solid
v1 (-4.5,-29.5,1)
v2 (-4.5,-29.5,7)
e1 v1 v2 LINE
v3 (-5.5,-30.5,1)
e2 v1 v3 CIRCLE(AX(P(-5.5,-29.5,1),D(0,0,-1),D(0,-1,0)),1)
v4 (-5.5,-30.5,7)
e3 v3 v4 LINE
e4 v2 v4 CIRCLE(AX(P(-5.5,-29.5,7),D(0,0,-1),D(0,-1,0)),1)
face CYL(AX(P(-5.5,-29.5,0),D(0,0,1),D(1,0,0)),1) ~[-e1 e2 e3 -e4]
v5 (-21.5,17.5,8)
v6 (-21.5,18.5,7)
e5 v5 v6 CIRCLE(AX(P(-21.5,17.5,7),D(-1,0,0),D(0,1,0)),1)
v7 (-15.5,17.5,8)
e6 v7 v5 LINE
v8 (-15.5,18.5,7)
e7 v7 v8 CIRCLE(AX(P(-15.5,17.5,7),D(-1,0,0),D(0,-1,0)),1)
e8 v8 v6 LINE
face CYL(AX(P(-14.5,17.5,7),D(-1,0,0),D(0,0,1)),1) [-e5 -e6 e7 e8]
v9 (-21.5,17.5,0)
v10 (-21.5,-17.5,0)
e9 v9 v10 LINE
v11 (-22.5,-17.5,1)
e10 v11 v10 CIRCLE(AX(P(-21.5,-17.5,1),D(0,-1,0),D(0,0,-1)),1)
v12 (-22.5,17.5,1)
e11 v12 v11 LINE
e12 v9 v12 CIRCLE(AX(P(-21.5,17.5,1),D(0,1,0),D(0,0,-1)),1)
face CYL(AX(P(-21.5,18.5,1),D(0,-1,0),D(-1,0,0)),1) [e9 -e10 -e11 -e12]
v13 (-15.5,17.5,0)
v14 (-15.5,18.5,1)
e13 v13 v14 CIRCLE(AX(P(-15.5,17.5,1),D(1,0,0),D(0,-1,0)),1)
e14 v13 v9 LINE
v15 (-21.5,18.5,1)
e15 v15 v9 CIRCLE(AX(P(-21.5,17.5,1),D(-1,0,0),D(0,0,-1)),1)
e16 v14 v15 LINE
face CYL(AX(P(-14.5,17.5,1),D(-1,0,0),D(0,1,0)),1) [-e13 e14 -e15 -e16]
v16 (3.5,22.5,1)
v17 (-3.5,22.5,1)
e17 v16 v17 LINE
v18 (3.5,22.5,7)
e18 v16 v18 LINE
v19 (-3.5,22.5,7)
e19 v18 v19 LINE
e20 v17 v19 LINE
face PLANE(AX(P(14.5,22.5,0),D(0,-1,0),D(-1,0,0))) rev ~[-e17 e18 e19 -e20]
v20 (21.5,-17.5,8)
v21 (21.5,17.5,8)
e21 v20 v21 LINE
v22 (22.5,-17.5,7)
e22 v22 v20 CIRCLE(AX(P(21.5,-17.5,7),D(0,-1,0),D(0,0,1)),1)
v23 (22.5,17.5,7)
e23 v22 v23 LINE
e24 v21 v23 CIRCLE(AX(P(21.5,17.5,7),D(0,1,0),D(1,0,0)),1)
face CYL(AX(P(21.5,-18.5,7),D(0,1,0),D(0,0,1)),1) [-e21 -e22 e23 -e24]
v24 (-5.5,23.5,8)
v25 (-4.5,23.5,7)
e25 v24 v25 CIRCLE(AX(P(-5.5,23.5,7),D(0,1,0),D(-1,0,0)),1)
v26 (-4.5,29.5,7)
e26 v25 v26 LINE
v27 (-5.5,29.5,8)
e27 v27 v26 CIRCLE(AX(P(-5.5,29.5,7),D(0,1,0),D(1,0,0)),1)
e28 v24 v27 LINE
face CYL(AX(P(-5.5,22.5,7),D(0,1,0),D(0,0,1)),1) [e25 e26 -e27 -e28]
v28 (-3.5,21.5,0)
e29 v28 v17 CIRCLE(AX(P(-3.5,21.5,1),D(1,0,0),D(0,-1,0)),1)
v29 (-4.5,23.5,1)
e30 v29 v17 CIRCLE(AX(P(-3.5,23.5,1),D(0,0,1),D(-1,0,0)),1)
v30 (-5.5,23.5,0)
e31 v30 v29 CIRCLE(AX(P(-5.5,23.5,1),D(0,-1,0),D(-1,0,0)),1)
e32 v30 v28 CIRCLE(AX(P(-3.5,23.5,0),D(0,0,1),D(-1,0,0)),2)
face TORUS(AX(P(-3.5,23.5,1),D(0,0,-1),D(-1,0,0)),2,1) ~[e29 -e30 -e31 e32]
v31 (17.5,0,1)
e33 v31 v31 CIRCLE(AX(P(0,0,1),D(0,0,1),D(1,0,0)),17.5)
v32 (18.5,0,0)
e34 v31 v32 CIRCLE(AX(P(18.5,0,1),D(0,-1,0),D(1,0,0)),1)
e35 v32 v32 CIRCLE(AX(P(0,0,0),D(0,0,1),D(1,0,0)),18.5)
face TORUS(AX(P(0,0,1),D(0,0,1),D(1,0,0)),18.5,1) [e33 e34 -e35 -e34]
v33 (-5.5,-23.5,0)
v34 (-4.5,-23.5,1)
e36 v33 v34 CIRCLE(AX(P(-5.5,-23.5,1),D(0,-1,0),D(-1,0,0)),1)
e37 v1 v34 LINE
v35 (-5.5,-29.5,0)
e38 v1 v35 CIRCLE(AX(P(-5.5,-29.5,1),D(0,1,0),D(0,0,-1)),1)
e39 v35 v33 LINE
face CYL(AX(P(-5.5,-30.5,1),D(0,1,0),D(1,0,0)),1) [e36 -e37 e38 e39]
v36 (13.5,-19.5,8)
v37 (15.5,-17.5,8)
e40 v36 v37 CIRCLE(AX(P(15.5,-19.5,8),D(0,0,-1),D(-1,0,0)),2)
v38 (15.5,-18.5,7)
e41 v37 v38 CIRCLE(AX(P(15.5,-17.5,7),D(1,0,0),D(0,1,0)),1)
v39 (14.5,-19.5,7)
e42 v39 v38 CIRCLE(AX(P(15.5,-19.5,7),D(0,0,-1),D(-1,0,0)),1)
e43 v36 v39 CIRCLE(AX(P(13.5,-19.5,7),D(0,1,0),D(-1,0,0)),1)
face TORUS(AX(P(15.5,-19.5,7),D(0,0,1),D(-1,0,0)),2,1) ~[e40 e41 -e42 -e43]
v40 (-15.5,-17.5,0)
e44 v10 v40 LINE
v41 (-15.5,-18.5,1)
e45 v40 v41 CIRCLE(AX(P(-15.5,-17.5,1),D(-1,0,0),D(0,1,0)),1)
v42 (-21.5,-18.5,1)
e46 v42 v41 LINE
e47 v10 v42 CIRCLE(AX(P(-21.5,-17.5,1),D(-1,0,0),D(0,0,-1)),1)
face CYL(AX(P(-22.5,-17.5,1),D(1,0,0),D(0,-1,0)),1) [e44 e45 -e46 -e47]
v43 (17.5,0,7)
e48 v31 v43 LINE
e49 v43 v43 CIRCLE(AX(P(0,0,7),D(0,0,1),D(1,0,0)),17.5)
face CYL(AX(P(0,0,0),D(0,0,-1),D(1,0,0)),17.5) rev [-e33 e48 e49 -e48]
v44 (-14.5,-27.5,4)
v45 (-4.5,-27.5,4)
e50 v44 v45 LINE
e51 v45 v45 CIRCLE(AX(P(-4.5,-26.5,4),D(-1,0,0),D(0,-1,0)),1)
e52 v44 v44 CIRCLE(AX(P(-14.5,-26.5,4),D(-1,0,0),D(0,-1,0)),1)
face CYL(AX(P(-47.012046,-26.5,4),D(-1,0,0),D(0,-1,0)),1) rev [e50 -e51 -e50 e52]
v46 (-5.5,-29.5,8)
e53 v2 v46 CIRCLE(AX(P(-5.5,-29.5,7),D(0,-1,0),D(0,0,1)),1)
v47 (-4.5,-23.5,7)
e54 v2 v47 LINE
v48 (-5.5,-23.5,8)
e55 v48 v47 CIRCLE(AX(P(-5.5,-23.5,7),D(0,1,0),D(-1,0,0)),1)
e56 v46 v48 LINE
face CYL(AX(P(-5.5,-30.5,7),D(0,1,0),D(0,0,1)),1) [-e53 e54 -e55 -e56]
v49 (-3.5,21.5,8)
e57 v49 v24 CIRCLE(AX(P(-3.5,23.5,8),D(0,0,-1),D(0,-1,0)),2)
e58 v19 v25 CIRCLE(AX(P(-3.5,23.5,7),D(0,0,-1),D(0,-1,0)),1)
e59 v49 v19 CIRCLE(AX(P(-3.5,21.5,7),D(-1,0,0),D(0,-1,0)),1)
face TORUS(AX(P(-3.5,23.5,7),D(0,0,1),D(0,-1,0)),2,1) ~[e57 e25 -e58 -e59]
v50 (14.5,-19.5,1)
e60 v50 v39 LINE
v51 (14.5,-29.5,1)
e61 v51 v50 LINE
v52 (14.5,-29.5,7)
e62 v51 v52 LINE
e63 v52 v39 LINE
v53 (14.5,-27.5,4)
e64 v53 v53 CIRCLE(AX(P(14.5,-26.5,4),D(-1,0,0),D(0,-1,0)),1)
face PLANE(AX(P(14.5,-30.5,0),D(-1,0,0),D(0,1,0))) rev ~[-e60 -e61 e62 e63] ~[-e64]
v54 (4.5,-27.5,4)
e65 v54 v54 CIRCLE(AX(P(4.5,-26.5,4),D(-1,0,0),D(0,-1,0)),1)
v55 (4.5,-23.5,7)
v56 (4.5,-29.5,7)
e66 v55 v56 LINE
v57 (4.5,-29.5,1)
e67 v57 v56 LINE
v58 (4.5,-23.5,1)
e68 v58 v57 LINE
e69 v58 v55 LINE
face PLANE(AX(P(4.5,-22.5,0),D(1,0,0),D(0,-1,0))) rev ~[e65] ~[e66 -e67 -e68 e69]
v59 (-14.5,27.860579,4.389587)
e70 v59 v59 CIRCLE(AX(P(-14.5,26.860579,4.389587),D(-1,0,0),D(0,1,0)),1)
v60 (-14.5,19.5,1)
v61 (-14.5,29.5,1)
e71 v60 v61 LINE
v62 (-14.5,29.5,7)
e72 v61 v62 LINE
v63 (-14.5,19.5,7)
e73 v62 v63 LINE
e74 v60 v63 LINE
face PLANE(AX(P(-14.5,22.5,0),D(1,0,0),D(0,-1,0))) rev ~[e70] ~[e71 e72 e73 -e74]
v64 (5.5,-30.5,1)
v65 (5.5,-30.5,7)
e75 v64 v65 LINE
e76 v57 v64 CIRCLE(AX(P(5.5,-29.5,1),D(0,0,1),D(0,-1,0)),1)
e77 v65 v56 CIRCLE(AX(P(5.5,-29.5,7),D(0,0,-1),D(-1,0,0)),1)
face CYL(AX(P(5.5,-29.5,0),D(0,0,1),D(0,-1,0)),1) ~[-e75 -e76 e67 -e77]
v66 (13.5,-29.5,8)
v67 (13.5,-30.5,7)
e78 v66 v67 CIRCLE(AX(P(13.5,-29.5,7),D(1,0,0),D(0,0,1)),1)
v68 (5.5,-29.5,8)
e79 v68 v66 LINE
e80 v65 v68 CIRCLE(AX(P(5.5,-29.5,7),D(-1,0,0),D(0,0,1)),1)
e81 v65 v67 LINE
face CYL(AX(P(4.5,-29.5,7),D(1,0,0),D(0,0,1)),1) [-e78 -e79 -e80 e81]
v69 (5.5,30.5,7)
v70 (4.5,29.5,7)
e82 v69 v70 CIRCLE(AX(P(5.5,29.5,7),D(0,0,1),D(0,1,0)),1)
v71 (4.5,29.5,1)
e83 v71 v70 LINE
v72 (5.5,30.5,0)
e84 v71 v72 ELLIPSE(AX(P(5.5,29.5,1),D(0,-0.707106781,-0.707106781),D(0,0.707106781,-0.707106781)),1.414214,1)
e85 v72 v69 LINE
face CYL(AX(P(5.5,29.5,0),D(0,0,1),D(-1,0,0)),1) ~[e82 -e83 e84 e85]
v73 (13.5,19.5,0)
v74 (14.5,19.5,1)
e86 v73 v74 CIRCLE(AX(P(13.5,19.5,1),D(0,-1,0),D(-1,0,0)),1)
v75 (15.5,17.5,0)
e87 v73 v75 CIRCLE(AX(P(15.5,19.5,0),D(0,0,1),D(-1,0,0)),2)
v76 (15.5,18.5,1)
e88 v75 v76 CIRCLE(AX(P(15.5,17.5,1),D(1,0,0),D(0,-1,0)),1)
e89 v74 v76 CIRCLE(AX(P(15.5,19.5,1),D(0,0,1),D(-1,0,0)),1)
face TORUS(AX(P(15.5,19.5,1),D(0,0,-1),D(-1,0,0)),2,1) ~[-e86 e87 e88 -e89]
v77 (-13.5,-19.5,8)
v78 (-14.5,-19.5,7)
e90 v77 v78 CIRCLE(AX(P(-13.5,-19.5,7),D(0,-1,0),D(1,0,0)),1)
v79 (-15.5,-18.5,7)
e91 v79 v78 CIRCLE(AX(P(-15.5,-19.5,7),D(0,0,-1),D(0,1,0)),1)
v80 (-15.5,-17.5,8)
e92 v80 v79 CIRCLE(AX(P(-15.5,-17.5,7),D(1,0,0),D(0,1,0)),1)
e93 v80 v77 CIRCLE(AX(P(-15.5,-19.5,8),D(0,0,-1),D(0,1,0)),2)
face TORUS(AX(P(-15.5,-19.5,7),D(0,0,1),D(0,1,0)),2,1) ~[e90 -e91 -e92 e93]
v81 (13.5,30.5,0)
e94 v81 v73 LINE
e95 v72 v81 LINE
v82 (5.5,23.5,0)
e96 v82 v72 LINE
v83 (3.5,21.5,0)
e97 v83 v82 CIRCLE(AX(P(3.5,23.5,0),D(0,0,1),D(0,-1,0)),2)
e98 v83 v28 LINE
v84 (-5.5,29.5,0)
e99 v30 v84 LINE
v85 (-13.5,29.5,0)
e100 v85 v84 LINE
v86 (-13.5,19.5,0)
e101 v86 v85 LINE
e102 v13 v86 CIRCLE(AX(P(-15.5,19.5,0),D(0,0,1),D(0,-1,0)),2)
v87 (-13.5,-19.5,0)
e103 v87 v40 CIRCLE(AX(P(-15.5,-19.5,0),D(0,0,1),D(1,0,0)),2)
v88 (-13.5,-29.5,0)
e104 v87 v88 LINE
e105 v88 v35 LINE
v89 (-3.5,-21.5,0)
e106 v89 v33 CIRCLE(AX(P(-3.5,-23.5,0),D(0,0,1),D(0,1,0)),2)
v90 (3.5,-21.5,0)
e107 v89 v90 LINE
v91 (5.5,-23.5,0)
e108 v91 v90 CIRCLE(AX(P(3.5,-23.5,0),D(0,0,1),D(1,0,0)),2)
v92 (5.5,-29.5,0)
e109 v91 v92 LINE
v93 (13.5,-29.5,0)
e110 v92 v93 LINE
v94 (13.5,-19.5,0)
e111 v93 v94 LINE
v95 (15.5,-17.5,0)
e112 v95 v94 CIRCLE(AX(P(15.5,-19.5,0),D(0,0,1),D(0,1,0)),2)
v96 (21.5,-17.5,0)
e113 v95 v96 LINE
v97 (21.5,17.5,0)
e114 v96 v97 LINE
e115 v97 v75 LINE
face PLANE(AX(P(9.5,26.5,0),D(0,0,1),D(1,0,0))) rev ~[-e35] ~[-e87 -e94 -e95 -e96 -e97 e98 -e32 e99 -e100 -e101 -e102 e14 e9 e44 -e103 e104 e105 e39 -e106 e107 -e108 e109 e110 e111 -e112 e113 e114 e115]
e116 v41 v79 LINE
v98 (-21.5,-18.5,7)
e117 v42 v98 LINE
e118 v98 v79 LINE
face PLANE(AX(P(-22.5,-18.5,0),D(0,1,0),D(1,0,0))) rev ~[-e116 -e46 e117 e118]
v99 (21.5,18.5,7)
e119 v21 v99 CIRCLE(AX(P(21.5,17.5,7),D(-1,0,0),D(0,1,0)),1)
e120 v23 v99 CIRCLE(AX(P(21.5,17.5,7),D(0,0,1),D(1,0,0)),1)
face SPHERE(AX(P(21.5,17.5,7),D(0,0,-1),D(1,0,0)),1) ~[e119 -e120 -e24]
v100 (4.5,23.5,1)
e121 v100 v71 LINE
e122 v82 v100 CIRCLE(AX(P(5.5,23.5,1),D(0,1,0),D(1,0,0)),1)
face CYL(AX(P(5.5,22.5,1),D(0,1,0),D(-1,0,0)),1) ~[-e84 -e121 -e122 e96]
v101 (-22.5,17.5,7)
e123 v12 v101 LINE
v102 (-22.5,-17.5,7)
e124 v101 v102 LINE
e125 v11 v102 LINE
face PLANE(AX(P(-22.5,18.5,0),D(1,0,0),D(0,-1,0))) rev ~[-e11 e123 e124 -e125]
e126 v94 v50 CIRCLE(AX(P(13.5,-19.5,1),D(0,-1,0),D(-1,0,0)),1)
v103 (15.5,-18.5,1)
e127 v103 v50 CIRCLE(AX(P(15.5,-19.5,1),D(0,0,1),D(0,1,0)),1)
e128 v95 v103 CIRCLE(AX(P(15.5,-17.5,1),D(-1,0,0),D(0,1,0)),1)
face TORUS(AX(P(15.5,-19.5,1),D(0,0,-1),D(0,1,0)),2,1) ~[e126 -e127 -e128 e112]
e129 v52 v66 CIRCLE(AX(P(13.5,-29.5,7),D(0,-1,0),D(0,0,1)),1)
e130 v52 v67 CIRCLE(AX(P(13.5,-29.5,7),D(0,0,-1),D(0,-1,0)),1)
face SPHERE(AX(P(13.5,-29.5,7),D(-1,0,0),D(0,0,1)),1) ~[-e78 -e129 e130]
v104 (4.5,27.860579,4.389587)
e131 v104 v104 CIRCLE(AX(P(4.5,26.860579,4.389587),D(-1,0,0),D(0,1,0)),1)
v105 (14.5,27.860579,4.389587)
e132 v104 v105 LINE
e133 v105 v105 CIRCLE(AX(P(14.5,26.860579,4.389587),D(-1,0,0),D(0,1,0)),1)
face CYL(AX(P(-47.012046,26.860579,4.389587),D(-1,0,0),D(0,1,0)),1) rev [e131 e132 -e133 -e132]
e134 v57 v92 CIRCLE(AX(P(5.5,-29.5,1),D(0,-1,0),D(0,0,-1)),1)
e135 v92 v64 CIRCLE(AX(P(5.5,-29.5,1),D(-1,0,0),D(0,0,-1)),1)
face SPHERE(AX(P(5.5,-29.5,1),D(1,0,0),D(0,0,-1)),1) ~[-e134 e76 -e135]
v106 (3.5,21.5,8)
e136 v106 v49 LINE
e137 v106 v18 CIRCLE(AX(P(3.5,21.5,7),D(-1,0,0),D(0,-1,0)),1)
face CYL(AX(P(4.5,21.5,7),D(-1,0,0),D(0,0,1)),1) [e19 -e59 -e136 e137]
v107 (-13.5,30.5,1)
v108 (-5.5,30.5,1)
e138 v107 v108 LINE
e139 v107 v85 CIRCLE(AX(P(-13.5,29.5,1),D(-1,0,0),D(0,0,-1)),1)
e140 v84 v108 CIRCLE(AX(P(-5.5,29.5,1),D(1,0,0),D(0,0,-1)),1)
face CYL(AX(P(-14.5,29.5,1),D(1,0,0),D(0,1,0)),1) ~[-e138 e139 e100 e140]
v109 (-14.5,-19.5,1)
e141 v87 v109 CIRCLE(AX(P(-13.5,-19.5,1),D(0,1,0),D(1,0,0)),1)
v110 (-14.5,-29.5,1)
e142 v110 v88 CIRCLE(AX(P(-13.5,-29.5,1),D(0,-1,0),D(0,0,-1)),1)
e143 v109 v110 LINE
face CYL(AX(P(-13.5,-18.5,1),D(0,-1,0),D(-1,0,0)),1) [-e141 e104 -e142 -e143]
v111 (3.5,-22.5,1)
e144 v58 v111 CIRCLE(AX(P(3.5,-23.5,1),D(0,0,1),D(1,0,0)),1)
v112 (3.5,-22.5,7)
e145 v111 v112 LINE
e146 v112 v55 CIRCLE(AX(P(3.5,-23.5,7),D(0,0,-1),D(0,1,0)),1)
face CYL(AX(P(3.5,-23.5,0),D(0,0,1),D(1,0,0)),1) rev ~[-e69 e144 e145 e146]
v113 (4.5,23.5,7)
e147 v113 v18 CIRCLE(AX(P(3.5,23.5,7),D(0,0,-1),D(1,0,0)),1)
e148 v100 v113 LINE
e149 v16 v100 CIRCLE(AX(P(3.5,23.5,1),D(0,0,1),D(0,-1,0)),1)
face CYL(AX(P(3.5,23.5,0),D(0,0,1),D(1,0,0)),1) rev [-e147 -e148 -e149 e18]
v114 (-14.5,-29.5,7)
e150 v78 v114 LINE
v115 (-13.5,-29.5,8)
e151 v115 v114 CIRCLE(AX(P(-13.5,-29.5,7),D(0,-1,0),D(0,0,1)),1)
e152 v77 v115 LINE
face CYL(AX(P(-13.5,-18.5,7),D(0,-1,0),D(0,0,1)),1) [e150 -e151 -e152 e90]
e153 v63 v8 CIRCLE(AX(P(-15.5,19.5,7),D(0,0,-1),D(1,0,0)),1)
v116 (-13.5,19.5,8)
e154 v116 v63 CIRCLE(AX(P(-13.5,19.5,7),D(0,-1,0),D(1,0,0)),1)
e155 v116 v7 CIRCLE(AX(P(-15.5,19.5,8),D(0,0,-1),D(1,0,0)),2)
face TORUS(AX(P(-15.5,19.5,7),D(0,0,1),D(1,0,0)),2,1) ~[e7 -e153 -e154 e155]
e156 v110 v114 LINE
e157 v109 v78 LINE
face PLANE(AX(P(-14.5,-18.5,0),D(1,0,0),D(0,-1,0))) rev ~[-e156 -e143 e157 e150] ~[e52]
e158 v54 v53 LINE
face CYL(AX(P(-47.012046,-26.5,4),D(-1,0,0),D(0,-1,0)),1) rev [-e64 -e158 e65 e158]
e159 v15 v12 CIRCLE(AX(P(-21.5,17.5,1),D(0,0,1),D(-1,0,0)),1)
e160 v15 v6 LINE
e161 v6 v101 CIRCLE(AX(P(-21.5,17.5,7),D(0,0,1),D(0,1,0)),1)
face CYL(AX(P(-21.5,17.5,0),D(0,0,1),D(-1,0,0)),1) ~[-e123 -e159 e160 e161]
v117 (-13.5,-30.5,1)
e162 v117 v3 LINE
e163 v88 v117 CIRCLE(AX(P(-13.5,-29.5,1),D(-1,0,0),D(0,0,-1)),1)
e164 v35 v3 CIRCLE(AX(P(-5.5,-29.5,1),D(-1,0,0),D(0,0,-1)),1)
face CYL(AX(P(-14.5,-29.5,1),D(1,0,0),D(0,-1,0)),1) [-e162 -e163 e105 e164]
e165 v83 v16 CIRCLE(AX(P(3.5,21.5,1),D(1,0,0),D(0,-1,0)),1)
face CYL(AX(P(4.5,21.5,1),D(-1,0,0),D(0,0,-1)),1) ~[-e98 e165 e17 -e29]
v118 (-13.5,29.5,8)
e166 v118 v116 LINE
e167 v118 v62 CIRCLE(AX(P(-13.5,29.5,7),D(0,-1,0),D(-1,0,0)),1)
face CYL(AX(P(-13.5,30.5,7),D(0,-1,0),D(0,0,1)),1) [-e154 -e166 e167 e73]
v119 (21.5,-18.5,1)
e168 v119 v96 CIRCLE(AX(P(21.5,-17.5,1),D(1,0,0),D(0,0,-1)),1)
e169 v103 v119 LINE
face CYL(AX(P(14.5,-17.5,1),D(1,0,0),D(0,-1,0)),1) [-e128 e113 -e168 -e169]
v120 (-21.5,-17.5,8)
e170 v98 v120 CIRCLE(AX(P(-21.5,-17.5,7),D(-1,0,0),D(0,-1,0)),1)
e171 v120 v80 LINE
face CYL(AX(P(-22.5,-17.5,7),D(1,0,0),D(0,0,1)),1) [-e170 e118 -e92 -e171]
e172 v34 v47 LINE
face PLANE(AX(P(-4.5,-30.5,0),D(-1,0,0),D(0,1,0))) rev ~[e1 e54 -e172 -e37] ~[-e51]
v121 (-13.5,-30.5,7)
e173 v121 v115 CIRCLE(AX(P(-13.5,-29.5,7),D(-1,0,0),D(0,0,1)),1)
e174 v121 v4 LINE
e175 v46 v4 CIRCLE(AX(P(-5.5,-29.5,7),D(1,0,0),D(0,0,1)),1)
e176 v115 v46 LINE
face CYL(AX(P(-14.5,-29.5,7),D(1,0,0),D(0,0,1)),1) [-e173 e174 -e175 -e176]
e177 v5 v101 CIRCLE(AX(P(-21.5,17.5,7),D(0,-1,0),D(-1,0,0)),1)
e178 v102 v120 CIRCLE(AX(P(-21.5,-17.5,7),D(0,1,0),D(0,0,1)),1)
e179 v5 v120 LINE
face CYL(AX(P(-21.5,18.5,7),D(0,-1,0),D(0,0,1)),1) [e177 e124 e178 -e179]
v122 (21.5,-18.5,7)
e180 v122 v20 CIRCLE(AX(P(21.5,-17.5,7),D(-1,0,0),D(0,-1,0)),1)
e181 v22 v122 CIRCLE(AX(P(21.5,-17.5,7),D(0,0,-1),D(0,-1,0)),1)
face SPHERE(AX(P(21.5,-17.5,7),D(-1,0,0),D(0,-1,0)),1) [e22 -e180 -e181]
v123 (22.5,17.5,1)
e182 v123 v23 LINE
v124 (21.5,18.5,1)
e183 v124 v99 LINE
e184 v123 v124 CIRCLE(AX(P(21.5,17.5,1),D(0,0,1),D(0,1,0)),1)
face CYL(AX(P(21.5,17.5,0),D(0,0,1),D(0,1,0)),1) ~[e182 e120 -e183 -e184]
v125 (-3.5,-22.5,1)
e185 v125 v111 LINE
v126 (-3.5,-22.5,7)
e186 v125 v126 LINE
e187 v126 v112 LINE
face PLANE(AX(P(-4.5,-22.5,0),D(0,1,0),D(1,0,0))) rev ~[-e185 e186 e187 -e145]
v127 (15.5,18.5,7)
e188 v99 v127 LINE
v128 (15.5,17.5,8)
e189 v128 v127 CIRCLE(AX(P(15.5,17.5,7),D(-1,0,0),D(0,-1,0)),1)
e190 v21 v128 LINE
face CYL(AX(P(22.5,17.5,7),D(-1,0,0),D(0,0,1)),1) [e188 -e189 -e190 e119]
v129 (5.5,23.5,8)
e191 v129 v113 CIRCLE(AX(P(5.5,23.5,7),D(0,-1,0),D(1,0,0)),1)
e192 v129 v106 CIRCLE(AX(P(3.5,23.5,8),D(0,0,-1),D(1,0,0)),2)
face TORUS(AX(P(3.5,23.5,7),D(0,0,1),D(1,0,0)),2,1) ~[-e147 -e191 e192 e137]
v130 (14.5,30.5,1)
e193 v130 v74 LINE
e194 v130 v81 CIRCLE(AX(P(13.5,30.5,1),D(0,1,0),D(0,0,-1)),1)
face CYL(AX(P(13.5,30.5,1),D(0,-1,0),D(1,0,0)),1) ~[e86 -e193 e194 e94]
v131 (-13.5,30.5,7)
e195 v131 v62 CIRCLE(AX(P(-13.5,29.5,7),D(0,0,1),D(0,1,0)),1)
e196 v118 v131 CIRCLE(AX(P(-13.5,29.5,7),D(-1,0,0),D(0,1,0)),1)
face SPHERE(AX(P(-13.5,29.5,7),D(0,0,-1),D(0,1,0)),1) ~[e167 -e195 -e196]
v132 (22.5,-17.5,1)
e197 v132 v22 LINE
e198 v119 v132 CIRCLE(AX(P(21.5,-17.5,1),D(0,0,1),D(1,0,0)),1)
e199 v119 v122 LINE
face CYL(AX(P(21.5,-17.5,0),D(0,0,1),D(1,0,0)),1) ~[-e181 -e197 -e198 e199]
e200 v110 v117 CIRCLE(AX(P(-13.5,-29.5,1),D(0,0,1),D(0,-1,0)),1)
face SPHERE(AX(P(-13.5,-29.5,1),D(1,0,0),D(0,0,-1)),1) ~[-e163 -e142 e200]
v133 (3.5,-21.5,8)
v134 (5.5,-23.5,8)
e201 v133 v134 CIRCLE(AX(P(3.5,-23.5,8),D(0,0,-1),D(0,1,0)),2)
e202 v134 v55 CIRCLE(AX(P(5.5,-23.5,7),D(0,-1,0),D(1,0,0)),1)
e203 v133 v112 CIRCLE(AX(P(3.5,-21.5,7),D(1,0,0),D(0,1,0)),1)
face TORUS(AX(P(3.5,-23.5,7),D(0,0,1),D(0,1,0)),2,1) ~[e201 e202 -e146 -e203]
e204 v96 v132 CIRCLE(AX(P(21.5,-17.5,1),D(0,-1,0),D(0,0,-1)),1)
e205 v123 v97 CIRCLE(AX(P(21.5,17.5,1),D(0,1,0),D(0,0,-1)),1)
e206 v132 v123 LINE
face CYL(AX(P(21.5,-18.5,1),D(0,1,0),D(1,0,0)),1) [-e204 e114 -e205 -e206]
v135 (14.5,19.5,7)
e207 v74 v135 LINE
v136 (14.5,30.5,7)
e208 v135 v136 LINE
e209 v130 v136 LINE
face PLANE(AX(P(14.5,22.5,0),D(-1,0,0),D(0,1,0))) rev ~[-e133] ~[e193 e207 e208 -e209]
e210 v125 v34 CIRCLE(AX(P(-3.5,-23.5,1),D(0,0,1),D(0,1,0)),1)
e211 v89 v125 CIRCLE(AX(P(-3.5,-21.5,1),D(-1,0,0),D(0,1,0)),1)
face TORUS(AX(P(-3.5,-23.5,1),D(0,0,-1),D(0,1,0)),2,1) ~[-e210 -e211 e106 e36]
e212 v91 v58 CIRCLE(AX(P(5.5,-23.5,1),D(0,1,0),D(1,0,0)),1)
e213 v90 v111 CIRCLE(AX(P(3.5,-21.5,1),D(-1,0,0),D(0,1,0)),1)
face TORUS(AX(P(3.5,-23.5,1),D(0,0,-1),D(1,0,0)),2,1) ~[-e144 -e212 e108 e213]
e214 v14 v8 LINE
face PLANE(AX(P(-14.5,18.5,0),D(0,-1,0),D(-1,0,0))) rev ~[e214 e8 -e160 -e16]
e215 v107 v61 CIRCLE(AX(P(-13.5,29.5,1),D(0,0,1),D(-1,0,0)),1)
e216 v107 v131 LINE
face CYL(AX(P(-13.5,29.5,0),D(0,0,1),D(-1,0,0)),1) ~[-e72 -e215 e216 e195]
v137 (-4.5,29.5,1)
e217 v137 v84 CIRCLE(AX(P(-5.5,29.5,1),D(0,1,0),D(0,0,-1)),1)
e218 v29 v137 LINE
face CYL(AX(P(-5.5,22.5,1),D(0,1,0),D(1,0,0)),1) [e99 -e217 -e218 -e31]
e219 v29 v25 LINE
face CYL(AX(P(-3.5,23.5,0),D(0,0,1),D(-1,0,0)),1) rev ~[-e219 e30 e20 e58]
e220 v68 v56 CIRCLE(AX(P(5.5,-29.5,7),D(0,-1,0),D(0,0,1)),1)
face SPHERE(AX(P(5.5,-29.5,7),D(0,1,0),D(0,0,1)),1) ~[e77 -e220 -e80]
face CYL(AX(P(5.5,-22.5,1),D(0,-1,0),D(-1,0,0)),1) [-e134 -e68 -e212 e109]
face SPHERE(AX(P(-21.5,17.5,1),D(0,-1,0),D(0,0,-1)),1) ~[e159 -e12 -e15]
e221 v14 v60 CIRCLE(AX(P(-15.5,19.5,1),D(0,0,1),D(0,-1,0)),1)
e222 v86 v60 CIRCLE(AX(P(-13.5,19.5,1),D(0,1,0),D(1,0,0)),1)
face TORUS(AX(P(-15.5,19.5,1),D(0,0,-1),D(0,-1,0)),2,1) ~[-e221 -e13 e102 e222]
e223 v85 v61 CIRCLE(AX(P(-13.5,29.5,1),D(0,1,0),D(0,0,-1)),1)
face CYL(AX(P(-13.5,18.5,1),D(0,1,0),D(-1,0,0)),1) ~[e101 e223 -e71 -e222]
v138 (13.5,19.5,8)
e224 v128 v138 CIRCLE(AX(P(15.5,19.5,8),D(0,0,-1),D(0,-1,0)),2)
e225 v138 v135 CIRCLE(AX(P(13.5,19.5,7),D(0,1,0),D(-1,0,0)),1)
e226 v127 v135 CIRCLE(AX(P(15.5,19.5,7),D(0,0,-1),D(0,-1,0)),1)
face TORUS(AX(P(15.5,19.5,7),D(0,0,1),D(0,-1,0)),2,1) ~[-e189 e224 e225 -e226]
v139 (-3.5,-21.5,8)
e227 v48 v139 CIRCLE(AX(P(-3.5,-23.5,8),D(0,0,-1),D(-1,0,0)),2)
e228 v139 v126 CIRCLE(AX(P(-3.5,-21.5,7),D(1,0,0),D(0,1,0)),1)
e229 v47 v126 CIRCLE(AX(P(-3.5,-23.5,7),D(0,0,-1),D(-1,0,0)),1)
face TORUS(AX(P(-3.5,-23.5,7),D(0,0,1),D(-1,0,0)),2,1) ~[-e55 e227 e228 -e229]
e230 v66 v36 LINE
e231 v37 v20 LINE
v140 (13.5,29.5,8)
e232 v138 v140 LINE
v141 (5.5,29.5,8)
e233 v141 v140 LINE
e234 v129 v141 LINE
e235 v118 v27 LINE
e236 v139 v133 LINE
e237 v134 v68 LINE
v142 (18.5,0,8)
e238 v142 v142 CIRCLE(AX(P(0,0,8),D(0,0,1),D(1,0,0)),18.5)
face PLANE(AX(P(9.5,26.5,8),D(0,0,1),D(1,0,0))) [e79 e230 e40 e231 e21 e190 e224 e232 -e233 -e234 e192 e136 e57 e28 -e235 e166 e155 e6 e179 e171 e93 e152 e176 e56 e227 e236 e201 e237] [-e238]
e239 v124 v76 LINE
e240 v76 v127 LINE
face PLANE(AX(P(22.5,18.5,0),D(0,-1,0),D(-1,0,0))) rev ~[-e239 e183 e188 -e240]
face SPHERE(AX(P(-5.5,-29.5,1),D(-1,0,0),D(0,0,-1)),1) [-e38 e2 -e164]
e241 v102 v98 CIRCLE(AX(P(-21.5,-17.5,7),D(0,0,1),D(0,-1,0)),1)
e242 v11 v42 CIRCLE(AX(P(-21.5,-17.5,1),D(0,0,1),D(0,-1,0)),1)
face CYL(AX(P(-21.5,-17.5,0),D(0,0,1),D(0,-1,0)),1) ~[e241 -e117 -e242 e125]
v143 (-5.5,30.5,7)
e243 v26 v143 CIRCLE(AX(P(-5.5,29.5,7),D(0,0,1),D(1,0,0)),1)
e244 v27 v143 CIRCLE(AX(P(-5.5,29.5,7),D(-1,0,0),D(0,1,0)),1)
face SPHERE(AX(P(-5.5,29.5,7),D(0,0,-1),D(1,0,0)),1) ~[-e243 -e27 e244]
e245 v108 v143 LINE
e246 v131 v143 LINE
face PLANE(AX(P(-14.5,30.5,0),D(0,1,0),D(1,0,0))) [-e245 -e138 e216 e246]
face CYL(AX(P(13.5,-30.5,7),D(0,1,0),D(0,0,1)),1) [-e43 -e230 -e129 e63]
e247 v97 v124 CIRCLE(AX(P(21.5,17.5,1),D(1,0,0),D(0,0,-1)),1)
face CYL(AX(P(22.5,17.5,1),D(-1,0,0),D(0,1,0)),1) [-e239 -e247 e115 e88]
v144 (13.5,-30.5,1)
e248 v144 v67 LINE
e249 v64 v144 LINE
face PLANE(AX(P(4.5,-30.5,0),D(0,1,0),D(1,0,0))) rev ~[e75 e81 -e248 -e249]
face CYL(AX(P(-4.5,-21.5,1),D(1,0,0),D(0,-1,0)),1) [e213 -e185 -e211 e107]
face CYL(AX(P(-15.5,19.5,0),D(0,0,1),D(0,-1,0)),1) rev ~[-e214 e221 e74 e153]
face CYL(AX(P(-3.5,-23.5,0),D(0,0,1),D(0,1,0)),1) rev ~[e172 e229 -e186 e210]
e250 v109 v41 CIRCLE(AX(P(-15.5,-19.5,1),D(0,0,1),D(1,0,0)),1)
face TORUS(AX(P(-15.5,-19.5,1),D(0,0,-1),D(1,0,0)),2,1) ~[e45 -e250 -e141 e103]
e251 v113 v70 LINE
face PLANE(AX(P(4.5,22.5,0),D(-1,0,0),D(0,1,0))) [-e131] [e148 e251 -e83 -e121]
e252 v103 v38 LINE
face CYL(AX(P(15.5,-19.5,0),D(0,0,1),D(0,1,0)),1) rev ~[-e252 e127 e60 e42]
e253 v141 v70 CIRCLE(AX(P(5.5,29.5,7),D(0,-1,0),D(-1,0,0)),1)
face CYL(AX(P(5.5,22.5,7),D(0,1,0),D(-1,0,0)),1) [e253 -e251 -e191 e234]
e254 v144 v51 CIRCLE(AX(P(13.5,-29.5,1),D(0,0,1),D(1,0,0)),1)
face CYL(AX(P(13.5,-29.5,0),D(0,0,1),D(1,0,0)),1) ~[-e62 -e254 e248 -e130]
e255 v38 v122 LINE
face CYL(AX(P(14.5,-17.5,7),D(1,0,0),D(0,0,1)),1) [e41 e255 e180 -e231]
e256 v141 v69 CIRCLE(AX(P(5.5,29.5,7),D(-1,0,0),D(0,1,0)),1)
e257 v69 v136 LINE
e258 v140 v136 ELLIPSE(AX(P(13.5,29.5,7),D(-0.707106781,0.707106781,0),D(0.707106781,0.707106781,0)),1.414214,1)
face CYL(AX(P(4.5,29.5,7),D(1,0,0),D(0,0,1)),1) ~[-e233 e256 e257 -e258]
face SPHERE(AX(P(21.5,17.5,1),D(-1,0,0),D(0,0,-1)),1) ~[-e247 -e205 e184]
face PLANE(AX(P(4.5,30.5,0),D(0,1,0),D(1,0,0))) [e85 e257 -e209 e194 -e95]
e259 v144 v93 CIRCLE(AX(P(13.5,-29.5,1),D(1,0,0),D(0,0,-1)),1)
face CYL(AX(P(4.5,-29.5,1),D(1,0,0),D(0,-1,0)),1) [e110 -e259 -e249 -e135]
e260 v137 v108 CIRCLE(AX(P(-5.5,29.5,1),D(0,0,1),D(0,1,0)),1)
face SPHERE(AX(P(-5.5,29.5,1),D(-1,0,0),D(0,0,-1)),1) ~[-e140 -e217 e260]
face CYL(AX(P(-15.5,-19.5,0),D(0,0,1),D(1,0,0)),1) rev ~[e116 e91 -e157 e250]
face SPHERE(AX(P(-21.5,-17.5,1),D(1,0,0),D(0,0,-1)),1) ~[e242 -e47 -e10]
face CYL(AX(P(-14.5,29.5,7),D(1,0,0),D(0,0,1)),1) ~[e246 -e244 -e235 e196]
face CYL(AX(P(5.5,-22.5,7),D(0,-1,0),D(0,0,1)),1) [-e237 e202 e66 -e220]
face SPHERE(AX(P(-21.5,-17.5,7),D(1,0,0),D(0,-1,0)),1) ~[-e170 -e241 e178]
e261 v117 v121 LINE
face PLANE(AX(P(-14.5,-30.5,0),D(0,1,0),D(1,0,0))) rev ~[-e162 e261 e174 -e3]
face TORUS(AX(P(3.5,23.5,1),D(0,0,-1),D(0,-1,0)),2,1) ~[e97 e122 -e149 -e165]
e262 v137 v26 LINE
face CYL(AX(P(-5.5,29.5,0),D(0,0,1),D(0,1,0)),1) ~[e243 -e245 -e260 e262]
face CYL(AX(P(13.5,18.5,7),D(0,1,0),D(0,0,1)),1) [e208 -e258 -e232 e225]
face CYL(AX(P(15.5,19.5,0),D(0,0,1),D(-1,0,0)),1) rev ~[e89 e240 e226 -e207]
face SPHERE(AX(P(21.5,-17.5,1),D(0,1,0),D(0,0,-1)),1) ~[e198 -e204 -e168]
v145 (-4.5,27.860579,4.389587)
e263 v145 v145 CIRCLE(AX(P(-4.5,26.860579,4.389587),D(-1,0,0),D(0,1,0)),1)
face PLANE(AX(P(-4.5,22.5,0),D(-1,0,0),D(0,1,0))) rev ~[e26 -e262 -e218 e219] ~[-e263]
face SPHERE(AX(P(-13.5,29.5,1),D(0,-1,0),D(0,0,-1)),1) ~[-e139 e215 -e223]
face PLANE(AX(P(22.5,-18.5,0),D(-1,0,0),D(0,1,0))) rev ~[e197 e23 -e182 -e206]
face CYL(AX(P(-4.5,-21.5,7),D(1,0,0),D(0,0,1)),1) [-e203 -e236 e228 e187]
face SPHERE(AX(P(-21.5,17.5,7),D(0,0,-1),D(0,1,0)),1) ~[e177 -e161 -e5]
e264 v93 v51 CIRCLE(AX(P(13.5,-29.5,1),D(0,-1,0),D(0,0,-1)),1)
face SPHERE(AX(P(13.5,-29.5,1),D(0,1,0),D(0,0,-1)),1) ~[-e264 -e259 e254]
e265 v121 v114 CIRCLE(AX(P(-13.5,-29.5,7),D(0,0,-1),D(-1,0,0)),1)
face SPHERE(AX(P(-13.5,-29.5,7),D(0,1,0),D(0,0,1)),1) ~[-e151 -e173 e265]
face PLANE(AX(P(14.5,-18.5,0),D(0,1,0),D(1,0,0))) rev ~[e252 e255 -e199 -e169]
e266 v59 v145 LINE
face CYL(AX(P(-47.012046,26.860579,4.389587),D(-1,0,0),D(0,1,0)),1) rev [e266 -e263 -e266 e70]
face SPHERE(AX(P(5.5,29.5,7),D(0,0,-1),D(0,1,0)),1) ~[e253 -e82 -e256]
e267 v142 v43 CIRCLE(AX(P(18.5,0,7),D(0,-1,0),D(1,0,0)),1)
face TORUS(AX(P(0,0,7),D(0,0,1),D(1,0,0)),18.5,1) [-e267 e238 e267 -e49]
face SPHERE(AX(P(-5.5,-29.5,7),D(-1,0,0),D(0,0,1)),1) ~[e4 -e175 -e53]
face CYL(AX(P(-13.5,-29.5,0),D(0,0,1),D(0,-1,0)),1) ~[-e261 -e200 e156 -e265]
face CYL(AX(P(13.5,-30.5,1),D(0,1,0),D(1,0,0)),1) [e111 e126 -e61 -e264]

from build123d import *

# Parameters (mm, degrees)
SKETCH2_W               = 10
SKETCH2_H               = 8
SKETCH2_R               = 17.5
BOSS_EXTRUDE1_DEPTH     = 8
FILLET1_R               = 1
CUT_EXTRUDE3_DEPTH      = 42.512046444
CUT_EXTRUDE3_DEPTH_BACK = 42.512046444
SKETCH5_R               = 1
CUT_EXTRUDE4_DEPTH      = 42.512046444
CUT_EXTRUDE4_DEPTH_BACK = 42.512046444
SKETCH6_R               = 1


with BuildPart() as part:
    # Sketch2 → Boss-Extrude1 (new body)
    # profile 1 of 3: a face of its own
    with BuildSketch(Plane.XY):
        with Locations((-9.5, 26.5)):
            Rectangle(SKETCH2_W, SKETCH2_H)
    # profile 2 of 3: a face of its own
    with BuildSketch(Plane.XY):
        Polygon((-4.5, 22.5), (-14.5, 22.5), (-14.5, 18.5), (-22.5, 18.5), (-22.5, -18.5), (-14.5, -18.5), (-14.5, -22.5), (-14.5, -30.5), (-4.5, -30.5), (-4.5, -22.5), (4.5, -22.5), (4.5, -30.5), (14.5, -30.5), (14.5, -22.5), (14.5, -18.5), (22.5, -18.5), (22.5, 18.5), (14.5, 18.5), (14.5, 22.5), (4.5, 22.5), align=None)
        Circle(SKETCH2_R, mode=Mode.SUBTRACT)
    # profile 3 of 3: a face of its own
    with BuildSketch(Plane.XY):
        with Locations((9.5, 26.5)):
            Rectangle(SKETCH2_W, SKETCH2_H)
    extrude(amount=BOSS_EXTRUDE1_DEPTH)

    # Fillet1
    fillet1_edges = [part.edges().sort_by_distance(p)[0] for p in [
        (-18.5, -18.5, 8),
        (-14.5, -24.5, 8),
        (-9.5, -30.5, 8),
        (-4.5, -26.5, 8),
        (0, -22.5, 8),
        (4.5, -26.5, 8),
        (-9.5, -30.5, 0),
        (-14.5, -24.5, 0),
        (-18.5, -18.5, 0),
        (-22.5, 0, 0),
        (-18.5, 18.5, 0),
        (-14.5, 24.5, 0),
        (9.5, -30.5, 8),
        (-9.5, 30.5, 0),
        (-4.5, 26.5, 0),
        (0, 22.5, 0),
        (4.5, 26.5, 0),
        (14.5, 24.5, 0),
        (18.5, 18.5, 0),
        (22.5, 0, 0),
        (18.5, -18.5, 0),
        (14.5, -24.5, 0),
        (14.5, -24.5, 8),
        (9.5, -30.5, 0),
        (4.5, -26.5, 0),
        (0, -22.5, 0),
        (-4.5, -26.5, 0),
        (-17.5, 0, 0),
        (18.5, -18.5, 8),
        (-4.5, -30.5, 4),
        (-14.5, -30.5, 4),
        (-14.5, -18.5, 4),
        (-22.5, -18.5, 4),
        (-22.5, 18.5, 4),
        (-14.5, 18.5, 4),
        (-14.5, 30.5, 4),
        (-4.5, 30.5, 4),
        (-4.5, 22.5, 4),
        (4.5, 22.5, 4),
        (4.5, 30.5, 4),
        (14.5, 18.5, 4),
        (22.5, 18.5, 4),
        (22.5, -18.5, 4),
        (14.5, -18.5, 4),
        (14.5, -30.5, 4),
        (4.5, -30.5, 4),
        (4.5, -22.5, 4),
        (-4.5, -22.5, 4),
        (22.5, 0, 8),
        (18.5, 18.5, 8),
        (14.5, 24.5, 8),
        (9.5, 30.5, 8),
        (4.5, 26.5, 8),
        (-17.5, 0, 8),
        (0, 22.5, 8),
        (-4.5, 26.5, 8),
        (-9.5, 30.5, 8),
        (-14.5, 24.5, 8),
        (-18.5, 18.5, 8),
        (-22.5, 0, 8),
    ]]
    fillet(fillet1_edges, radius=FILLET1_R)

    # Sketch5 → Cut-Extrude3 (cut, two sides: drawn at the far end of the back side and taken through both)
    with BuildSketch(Plane(origin=(-4.5, 0, 0), x_dir=(0, 0, -1), z_dir=(1, 0, 0)).offset(-CUT_EXTRUDE3_DEPTH_BACK)):
        with Locations(Location((-4.389587231, 26.860578682, 0), (0, 0, 90))):
            Circle(SKETCH5_R)
    extrude(amount=CUT_EXTRUDE3_DEPTH + CUT_EXTRUDE3_DEPTH_BACK, mode=Mode.SUBTRACT)

    # Sketch6 → Cut-Extrude4 (cut, two sides: drawn at the far end of the back side and taken through both)
    with BuildSketch(Plane(origin=(-4.5, 0, 0), x_dir=(0, 0, -1), z_dir=(1, 0, 0)).offset(-CUT_EXTRUDE4_DEPTH_BACK)):
        with Locations(Location((-4, -26.5, 0), (0, 0, 270))):
            Circle(SKETCH6_R)
    extrude(amount=CUT_EXTRUDE4_DEPTH + CUT_EXTRUDE4_DEPTH_BACK, mode=Mode.SUBTRACT)


solid = part.part
